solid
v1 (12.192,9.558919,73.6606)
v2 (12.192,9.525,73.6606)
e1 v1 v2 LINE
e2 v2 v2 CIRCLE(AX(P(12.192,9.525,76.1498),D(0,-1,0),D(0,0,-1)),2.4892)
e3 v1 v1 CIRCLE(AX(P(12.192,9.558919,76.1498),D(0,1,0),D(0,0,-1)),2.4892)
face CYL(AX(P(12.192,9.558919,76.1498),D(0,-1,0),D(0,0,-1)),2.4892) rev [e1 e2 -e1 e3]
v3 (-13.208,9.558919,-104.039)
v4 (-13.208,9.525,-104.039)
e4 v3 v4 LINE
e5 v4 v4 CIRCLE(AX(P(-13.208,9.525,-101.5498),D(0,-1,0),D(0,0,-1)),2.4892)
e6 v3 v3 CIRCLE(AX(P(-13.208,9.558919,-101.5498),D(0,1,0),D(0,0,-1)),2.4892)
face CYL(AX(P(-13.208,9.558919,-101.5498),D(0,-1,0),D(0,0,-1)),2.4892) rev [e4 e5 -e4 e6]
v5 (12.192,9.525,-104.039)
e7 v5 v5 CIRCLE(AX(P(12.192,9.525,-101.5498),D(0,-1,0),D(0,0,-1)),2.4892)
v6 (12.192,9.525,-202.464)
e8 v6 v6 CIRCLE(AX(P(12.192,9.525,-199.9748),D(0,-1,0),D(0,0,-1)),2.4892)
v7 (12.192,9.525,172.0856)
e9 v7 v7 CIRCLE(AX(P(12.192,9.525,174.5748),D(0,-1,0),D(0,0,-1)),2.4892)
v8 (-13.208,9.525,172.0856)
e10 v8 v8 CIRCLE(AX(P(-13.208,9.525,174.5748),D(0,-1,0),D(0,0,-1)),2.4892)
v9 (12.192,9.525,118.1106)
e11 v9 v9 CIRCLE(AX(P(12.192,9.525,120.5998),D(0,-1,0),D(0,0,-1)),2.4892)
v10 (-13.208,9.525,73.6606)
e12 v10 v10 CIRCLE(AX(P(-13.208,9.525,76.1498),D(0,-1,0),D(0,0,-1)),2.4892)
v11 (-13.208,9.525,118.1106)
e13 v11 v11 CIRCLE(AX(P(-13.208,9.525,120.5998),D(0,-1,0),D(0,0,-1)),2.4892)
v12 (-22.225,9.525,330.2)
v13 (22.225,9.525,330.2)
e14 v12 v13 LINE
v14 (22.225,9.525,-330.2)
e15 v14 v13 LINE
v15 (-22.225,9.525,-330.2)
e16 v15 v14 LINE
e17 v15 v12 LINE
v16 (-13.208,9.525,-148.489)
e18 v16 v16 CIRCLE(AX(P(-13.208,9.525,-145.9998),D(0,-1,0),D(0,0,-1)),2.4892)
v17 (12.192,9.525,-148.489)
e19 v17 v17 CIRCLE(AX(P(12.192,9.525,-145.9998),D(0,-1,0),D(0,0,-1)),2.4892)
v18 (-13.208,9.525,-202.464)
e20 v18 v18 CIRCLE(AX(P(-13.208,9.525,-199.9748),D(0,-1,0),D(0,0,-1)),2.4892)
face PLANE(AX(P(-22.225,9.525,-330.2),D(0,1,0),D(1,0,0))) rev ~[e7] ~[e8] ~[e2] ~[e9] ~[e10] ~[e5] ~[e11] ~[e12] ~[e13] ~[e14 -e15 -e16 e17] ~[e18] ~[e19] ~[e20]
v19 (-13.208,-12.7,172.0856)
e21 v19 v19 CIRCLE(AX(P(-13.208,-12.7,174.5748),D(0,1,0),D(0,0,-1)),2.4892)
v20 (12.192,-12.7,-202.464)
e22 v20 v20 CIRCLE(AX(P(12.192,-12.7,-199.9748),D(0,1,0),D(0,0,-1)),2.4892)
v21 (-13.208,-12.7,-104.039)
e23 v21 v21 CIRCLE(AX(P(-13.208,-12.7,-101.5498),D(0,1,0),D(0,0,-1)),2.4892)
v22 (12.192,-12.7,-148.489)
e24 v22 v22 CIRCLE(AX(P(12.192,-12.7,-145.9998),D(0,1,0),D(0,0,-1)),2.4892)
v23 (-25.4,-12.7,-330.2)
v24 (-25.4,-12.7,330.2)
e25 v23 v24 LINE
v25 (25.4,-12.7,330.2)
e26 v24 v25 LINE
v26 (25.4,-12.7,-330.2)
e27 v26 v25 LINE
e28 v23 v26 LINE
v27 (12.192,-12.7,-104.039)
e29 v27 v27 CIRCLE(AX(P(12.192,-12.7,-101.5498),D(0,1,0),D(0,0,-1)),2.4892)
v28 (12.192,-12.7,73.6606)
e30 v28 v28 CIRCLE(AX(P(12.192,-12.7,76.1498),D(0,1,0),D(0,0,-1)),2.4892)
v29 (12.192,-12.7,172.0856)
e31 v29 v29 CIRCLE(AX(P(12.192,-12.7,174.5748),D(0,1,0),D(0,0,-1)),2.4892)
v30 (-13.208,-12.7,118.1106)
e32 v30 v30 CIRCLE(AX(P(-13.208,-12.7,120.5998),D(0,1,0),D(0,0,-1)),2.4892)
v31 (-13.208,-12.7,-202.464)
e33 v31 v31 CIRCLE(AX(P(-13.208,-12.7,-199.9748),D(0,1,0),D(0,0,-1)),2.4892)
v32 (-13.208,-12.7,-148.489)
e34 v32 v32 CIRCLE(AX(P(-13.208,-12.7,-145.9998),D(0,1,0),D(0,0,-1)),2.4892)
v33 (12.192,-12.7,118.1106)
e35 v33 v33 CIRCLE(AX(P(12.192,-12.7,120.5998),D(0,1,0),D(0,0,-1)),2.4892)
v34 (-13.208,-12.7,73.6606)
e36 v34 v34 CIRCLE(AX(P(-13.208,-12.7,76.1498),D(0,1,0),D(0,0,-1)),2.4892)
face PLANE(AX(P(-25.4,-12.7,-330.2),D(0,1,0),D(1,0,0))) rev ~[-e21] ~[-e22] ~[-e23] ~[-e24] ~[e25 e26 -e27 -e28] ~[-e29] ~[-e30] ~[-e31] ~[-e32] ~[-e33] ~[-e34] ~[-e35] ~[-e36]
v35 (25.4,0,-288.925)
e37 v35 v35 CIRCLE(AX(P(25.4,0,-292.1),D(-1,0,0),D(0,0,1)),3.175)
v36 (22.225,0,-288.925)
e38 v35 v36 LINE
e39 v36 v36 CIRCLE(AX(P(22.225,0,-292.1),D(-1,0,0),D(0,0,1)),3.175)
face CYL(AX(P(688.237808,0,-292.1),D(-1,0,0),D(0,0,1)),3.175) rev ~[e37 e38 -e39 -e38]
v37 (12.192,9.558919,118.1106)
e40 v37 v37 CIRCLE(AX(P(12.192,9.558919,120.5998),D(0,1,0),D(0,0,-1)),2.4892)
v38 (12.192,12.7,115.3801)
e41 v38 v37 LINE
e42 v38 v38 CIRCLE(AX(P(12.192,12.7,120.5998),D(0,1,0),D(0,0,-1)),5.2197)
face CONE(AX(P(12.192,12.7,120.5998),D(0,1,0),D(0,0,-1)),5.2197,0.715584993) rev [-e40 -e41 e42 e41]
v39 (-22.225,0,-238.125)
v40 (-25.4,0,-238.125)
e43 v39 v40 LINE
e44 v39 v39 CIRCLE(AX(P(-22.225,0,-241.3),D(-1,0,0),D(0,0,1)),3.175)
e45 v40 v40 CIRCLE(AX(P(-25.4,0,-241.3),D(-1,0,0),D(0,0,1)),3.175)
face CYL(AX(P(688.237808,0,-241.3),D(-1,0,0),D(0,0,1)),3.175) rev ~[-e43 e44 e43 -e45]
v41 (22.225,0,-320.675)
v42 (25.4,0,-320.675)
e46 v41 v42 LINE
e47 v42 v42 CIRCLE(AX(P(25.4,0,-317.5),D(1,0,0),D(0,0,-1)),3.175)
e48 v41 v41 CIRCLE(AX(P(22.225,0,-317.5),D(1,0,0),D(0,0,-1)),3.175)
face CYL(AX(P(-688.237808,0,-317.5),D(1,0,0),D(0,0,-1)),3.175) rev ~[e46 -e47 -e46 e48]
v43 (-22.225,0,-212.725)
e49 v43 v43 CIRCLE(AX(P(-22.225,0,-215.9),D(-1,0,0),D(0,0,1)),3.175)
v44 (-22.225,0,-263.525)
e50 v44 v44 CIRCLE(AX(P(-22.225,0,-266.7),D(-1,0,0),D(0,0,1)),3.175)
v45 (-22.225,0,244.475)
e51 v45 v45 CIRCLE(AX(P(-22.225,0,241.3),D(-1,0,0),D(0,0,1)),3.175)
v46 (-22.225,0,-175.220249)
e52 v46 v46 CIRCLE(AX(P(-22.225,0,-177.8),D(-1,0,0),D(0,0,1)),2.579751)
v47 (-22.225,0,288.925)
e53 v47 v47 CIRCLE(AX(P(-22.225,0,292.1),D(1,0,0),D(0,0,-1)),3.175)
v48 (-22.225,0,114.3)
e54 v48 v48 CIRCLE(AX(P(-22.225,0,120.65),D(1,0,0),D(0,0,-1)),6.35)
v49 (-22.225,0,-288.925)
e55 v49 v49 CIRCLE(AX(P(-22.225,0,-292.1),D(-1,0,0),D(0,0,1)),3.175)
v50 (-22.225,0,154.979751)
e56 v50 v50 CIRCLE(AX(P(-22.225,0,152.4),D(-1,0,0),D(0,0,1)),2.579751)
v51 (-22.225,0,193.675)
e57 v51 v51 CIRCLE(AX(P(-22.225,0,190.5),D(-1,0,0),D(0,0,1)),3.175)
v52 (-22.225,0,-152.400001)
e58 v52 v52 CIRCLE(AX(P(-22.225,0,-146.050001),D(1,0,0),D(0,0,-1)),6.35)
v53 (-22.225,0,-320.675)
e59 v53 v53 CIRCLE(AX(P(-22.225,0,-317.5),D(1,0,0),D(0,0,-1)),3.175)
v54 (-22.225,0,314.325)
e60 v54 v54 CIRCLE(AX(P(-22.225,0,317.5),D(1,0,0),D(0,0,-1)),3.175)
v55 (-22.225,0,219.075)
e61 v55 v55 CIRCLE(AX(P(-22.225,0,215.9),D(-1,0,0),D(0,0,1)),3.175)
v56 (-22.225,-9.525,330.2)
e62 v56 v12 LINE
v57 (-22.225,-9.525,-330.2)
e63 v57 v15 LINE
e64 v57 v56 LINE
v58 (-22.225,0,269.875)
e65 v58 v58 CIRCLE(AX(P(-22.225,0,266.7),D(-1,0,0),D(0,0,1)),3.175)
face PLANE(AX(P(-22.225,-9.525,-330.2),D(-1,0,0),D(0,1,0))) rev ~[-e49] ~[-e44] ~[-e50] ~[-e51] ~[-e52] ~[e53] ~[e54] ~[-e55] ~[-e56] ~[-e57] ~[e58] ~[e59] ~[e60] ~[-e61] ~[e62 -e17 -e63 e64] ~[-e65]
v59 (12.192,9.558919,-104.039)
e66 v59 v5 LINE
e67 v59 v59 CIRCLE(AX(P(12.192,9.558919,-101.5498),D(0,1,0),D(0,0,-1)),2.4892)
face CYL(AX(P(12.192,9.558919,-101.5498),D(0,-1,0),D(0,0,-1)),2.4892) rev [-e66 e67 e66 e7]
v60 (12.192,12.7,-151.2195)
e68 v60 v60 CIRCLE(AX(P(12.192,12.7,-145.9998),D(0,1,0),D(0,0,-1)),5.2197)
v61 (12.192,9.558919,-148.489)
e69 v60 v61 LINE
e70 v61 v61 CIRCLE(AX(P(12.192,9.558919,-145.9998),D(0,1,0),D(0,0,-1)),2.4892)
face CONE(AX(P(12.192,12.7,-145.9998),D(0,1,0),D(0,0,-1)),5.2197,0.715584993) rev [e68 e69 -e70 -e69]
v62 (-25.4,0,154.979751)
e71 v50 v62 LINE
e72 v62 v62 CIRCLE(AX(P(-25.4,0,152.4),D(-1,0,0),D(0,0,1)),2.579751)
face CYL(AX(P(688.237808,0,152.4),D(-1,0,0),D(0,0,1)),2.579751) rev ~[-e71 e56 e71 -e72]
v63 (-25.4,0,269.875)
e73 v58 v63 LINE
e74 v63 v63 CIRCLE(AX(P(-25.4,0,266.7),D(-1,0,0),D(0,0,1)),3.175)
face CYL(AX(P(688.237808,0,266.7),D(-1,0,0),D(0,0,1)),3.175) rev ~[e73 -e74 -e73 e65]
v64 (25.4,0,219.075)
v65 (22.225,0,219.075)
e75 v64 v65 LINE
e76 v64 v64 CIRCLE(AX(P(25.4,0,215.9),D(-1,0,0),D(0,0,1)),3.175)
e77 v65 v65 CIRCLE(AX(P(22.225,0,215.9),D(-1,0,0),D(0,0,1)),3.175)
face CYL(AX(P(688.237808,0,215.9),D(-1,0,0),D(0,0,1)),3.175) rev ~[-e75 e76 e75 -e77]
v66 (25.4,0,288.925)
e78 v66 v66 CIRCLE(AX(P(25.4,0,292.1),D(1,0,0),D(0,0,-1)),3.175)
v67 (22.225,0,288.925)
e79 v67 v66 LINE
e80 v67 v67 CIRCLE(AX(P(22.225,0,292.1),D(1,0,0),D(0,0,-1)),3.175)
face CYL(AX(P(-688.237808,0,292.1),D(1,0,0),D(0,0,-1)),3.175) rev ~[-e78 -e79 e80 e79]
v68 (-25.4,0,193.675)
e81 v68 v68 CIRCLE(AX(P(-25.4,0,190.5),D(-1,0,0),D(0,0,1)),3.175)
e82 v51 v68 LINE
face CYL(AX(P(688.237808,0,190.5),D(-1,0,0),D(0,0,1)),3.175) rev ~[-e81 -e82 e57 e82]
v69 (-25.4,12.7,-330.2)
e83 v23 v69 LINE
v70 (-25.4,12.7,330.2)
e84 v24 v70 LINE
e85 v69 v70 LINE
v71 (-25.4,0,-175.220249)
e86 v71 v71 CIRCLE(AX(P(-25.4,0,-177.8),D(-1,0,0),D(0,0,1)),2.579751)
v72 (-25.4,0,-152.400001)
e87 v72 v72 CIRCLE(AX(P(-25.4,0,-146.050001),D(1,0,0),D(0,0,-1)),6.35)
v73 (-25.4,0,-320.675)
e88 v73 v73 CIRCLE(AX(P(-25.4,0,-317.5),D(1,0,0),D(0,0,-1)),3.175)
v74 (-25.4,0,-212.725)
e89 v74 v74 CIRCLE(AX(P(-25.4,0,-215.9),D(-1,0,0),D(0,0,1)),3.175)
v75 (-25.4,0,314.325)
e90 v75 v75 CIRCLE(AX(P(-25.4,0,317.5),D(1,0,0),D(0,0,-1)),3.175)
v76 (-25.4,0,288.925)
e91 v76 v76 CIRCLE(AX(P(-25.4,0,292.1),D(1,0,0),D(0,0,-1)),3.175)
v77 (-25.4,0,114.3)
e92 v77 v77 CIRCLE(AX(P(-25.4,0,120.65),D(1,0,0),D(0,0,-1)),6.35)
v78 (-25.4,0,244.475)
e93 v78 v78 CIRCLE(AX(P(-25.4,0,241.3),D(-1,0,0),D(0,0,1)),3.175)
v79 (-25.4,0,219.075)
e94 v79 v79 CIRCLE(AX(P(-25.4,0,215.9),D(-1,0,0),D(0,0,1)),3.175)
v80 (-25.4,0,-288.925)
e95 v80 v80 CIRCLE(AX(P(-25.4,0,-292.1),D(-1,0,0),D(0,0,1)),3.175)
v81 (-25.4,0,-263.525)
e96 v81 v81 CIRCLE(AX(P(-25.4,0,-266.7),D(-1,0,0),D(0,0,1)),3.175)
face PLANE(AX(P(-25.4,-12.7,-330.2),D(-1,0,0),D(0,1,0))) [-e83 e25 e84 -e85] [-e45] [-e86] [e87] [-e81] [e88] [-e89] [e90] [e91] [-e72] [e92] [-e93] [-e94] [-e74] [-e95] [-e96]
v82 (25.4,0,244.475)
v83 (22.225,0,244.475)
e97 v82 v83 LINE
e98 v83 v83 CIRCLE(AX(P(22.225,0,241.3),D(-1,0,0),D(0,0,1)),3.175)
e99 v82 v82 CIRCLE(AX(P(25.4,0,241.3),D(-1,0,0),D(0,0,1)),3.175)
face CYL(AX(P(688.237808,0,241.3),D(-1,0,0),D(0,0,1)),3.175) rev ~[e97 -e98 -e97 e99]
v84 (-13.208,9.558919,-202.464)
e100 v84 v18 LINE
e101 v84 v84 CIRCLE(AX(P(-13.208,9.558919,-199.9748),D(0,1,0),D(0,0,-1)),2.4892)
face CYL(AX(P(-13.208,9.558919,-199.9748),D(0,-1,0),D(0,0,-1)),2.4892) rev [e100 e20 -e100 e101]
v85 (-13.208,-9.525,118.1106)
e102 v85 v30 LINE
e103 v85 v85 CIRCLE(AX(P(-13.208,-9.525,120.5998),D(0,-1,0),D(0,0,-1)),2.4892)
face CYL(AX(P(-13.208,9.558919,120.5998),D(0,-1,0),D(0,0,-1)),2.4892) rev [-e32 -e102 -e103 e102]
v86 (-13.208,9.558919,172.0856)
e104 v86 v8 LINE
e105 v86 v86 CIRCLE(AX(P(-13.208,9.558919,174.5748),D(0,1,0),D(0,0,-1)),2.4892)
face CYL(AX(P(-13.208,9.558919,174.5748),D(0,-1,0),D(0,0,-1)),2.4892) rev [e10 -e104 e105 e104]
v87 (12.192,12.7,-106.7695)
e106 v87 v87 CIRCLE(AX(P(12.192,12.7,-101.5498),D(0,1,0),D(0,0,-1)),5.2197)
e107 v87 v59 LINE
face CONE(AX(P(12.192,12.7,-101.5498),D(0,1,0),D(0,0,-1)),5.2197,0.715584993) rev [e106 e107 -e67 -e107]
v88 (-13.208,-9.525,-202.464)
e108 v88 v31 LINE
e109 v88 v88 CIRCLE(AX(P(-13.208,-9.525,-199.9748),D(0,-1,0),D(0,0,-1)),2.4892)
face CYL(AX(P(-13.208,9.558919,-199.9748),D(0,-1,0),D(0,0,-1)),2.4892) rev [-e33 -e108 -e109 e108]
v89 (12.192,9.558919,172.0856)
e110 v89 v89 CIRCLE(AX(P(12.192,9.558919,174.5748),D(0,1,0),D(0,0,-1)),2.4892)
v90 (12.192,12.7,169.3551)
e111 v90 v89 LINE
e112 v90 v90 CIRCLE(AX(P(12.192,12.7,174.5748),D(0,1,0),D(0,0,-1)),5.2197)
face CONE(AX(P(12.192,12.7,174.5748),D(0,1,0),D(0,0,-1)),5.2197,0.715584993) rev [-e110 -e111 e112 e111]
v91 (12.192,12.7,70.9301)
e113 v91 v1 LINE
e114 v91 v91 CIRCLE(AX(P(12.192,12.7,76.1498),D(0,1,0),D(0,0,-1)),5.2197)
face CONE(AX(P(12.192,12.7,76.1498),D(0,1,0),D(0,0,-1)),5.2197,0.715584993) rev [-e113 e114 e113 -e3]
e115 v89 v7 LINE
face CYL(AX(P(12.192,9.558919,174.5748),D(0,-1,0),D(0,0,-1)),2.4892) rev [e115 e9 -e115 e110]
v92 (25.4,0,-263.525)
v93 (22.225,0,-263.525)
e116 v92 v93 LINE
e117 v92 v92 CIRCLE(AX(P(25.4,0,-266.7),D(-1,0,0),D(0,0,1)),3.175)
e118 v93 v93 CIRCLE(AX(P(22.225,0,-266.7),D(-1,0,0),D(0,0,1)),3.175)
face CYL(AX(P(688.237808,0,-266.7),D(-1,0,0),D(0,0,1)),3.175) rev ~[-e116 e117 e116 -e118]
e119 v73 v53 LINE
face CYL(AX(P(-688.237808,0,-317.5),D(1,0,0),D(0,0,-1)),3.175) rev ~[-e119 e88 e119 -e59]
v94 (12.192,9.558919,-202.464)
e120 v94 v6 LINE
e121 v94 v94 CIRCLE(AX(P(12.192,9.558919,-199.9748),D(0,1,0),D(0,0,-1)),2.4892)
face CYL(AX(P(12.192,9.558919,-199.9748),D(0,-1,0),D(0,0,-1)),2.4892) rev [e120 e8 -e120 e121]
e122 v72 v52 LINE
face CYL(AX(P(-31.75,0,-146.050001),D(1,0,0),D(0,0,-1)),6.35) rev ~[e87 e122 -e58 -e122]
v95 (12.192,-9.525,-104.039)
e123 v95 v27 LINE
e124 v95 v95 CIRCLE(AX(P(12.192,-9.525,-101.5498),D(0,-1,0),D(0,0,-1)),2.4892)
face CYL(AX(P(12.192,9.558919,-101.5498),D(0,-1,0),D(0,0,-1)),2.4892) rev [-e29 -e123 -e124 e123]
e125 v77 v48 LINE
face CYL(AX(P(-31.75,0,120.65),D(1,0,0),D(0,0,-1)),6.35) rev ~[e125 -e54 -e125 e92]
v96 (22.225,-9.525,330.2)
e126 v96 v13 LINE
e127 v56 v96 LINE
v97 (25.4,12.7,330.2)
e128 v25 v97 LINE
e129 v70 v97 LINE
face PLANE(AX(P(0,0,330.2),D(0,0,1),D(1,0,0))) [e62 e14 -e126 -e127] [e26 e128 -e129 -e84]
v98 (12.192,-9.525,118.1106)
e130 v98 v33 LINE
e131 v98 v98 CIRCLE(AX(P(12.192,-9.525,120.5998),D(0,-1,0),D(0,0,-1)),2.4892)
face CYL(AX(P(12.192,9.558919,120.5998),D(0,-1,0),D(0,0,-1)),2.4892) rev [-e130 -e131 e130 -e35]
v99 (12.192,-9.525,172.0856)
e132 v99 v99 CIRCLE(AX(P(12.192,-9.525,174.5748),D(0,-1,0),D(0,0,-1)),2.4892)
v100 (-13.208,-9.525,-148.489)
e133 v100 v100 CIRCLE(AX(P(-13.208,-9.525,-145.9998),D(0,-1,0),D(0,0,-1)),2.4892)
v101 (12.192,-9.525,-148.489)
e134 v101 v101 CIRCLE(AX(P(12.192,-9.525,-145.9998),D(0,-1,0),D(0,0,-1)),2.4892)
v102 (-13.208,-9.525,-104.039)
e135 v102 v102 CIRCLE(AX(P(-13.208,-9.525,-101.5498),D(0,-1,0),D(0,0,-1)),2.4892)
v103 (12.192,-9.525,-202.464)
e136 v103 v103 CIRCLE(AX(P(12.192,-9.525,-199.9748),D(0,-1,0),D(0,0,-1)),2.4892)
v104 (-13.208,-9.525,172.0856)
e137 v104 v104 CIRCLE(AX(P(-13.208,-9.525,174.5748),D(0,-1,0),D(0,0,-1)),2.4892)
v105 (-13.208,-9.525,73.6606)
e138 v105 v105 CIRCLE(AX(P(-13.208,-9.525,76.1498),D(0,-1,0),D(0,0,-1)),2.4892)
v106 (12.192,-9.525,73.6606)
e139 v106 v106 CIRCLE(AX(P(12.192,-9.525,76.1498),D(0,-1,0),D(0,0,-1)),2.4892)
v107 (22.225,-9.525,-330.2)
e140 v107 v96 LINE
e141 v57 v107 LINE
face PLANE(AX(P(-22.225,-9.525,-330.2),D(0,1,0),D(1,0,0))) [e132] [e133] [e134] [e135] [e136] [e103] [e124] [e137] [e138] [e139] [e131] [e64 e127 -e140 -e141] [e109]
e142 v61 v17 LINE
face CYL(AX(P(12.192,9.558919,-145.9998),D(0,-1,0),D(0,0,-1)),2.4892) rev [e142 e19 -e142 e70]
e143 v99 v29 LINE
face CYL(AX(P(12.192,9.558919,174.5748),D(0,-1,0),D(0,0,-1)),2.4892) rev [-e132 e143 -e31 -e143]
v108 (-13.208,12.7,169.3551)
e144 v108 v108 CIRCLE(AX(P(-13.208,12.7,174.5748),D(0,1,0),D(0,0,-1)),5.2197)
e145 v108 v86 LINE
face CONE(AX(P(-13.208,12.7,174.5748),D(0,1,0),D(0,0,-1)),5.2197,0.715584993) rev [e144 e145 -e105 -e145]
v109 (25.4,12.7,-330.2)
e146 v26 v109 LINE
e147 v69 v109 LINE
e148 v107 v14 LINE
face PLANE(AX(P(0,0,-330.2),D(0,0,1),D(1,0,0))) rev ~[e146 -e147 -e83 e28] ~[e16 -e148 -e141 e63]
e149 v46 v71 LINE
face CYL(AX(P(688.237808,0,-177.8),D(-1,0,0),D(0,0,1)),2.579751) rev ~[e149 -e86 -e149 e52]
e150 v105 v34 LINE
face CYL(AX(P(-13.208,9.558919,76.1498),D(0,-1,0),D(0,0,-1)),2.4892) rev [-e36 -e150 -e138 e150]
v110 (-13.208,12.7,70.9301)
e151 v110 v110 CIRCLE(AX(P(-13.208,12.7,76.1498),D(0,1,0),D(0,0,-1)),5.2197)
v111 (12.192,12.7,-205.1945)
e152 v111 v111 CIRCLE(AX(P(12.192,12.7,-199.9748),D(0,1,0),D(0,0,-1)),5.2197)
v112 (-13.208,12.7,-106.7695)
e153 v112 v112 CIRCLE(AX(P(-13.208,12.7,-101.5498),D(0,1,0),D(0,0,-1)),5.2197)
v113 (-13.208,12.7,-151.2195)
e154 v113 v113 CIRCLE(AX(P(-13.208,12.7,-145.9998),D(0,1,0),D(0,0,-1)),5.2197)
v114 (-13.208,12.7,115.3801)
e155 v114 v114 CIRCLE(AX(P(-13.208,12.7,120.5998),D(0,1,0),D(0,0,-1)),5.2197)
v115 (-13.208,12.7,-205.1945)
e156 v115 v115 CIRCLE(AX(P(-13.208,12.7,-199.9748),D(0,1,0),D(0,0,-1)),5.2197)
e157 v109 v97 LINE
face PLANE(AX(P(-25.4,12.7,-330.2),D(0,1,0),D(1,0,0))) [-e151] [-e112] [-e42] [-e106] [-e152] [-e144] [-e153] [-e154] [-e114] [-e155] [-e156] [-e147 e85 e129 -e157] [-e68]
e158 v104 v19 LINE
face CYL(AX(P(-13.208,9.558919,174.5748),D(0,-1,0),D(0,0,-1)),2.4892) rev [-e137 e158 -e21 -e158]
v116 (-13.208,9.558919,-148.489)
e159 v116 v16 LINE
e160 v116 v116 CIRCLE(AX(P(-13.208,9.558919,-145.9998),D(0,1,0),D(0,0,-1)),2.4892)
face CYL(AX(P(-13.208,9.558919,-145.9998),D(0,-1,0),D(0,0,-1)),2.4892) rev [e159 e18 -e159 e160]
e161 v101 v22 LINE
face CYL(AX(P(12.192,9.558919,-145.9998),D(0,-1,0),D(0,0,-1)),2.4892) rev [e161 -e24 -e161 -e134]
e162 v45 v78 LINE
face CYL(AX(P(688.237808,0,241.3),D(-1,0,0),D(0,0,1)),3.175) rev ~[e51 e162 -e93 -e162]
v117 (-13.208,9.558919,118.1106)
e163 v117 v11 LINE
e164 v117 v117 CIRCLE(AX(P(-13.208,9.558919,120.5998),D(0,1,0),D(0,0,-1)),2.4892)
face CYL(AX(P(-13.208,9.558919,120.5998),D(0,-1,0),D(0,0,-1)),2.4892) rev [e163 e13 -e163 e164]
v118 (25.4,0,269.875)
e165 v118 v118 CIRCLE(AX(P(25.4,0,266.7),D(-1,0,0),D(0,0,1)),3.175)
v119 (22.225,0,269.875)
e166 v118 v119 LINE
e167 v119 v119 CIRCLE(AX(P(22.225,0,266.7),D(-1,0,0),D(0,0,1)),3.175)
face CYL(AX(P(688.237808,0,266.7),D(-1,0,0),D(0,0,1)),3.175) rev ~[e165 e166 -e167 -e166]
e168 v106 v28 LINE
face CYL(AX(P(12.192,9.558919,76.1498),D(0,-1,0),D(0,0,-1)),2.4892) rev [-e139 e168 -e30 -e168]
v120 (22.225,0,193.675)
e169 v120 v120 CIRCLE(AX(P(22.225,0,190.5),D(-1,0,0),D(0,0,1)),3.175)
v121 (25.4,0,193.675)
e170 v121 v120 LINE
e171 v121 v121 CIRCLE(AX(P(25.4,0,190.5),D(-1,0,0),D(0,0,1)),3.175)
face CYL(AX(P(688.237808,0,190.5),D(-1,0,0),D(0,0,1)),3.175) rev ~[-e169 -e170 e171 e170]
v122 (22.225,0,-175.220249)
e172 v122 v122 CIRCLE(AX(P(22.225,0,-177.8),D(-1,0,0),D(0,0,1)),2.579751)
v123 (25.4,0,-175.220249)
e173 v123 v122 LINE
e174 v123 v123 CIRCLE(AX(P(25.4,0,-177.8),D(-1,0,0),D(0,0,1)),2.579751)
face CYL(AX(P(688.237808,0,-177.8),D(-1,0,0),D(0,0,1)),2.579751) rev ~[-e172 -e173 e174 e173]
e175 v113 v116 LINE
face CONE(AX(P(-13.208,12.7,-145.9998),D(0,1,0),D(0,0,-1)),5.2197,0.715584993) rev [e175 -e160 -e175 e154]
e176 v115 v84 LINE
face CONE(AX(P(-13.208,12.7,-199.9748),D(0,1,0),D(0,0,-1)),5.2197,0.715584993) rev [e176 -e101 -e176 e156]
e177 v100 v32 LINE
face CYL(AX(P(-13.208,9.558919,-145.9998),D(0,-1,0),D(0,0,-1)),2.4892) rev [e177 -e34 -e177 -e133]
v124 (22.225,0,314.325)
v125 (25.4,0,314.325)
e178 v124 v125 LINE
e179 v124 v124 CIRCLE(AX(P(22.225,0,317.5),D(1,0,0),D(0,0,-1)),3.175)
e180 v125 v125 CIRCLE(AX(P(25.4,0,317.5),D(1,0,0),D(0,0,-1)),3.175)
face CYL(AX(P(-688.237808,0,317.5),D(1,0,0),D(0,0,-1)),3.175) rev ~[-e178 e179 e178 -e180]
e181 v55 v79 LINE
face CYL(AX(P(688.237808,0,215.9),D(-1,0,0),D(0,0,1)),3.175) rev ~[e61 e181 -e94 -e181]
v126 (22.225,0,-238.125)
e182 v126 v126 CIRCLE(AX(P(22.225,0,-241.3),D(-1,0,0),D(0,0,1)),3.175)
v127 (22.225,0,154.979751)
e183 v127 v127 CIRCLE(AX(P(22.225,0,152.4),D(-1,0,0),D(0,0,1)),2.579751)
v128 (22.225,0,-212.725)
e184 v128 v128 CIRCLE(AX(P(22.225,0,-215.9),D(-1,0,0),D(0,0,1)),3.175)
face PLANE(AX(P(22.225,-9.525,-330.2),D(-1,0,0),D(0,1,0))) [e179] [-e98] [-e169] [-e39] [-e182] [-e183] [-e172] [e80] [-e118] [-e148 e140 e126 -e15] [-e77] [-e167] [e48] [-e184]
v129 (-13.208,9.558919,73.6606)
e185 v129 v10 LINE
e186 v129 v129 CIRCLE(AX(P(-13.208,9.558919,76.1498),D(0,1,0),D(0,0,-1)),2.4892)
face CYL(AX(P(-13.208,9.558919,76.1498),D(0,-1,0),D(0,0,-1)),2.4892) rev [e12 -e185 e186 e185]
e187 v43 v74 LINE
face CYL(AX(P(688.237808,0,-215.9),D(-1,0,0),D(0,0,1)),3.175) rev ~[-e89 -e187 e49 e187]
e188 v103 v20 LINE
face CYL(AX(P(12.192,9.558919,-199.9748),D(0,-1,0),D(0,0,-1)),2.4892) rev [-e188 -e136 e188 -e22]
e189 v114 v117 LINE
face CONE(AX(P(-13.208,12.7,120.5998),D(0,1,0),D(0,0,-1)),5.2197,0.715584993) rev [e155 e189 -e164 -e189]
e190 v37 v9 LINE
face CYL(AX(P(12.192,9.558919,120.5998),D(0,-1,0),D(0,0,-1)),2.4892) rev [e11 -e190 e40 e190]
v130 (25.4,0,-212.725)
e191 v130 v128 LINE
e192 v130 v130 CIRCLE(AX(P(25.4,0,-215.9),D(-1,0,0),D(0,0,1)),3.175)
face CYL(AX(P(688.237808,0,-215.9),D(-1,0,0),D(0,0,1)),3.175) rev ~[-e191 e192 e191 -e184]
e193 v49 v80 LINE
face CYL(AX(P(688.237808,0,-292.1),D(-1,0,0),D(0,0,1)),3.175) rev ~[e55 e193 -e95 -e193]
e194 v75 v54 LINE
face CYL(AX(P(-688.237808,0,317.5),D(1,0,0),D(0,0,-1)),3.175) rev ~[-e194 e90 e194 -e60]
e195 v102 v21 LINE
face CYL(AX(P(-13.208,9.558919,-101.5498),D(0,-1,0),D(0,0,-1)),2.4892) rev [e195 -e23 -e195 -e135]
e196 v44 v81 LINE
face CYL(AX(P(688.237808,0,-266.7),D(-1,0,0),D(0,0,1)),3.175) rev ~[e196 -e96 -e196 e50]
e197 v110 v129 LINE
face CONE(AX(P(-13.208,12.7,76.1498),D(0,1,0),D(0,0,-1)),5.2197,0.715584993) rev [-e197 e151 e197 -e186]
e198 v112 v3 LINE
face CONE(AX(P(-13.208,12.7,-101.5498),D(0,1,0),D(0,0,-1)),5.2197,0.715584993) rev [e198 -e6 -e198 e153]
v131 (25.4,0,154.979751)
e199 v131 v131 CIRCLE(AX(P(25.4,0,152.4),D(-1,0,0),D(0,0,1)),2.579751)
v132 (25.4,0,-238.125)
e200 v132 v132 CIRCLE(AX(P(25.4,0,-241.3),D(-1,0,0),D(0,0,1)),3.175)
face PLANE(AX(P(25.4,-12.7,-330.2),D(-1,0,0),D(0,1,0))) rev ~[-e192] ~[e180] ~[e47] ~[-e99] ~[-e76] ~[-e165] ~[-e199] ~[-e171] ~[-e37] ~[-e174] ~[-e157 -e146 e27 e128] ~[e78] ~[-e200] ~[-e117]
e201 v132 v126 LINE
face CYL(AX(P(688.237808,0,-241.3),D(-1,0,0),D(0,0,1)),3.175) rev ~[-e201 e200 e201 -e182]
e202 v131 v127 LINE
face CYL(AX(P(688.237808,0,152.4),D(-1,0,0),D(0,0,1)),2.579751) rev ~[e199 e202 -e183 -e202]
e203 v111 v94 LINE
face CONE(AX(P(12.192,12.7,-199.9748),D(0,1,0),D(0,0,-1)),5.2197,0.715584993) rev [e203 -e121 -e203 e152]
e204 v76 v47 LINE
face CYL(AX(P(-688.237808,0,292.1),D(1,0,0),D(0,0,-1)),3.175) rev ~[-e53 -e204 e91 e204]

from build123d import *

# Parameters (mm, degrees)
BOSS_EXTRUDE1_DEPTH              = 330.2
BOSS_EXTRUDE1_DEPTH_BACK         = 330.2
SKETCH3_W                        = 50.8
SKETCH3_H                        = 25.4
SKETCH3_W_2                      = 44.45
SKETCH3_H_2                      = 19.05
F_1_4_0_25_DIAMETER_HOLE3_D      = 6.35
F_1_4_0_25_DIAMETER_HOLE4_D      = 6.35
F_1_4_0_25_DIAMETER_HOLE5_D      = 6.35
F_1_4_0_25_DIAMETER_HOLE6_D      = 6.35
F_1_4_0_25_DIAMETER_HOLE7_D      = 6.35
F_1_4_0_25_DIAMETER_HOLE8_D      = 6.35
F_13_64_0_20313_DIAMETER_HOLE1_D = 5.159502
F_1_2_0_5_DIAMETER_HOLE1_D       = 12.7
F_1_2_0_5_DIAMETER_HOLE1_DEPTH   = 6.35
F_1_2_0_5_DIAMETER_HOLE1_TIP     = 3.815464931
F_10_CLEARANCE_HOLE1_AT_2_COUNT  = 2
F_10_CLEARANCE_HOLE1_AT_2_PITCH  = 25.4
F_10_CLEARANCE_HOLE1_AT_3_COUNT  = 2
F_10_CLEARANCE_HOLE1_AT_3_PITCH  = 51.195336702
F_10_CLEARANCE_HOLE1_AT_4_COUNT  = 2
F_10_CLEARANCE_HOLE1_AT_4_PITCH  = 44.45
F_10_CLEARANCE_HOLE1_AT_5_COUNT  = 2
F_10_CLEARANCE_HOLE1_AT_5_PITCH  = 223.596969524
F_10_CLEARANCE_HOLE1_AT_6_COUNT  = 2
F_10_CLEARANCE_HOLE1_AT_6_PITCH  = 222.1496
F_10_CLEARANCE_HOLE1_AT_7_COUNT  = 2
F_10_CLEARANCE_HOLE1_AT_7_PITCH  = 266.5996
F_10_CLEARANCE_HOLE1_AT_8_COUNT  = 2
F_10_CLEARANCE_HOLE1_AT_8_PITCH  = 267.806845917
F_10_CLEARANCE_HOLE1_AT_9_COUNT  = 2
F_10_CLEARANCE_HOLE1_AT_9_PITCH  = 59.652834174
F_10_CLEARANCE_HOLE1_AT_10_COUNT = 2
F_10_CLEARANCE_HOLE1_AT_10_PITCH = 53.975
F_10_CLEARANCE_HOLE1_AT_11_COUNT = 2
F_10_CLEARANCE_HOLE1_AT_11_PITCH = 321.579281306
F_10_CLEARANCE_HOLE1_AT_12_COUNT = 2
F_10_CLEARANCE_HOLE1_AT_12_PITCH = 320.5746


with BuildPart() as part:
    # Sketch3 → Boss-Extrude1 (new, two sides: drawn at the far end of the back side and taken through both)
    with BuildSketch(Plane.XY.offset(-BOSS_EXTRUDE1_DEPTH_BACK)):
        Rectangle(SKETCH3_W, SKETCH3_H)
        Rectangle(SKETCH3_W_2, SKETCH3_H_2, mode=Mode.SUBTRACT)
    extrude(amount=BOSS_EXTRUDE1_DEPTH + BOSS_EXTRUDE1_DEPTH_BACK)

    # 1/4 (0.25) Diameter Hole3 (through all)
    with Locations(Plane.ZY.offset(25.4)):
        with Locations((-317.5, 0)):
            Hole(F_1_4_0_25_DIAMETER_HOLE3_D / 2)

    # 1/4 (0.25) Diameter Hole4 (through all)
    with Locations(Plane.ZY.offset(25.4)):
        with Locations((292.1, 0), (317.5, 0)):
            Hole(F_1_4_0_25_DIAMETER_HOLE4_D / 2)

    # 1/4 (0.25) Diameter Hole5 (through all)
    with Locations(Plane(origin=(25.4, 0, 0), x_dir=(0, 0, -1), z_dir=(1, 0, 0))):
        with Locations((292.1, 0), (266.7, 0)):
            Hole(F_1_4_0_25_DIAMETER_HOLE5_D / 2)

    # 1/4 (0.25) Diameter Hole6 (through all)
    with Locations(Plane(origin=(25.4, 0, 0), x_dir=(0, 0, -1), z_dir=(1, 0, 0))):
        with Locations((215.9, 0), (241.3, 0)):
            Hole(F_1_4_0_25_DIAMETER_HOLE6_D / 2)

    # 1/4 (0.25) Diameter Hole7 (through all)
    with Locations(Plane(origin=(25.4, 0, 0), x_dir=(0, 0, -1), z_dir=(1, 0, 0))):
        with Locations((-190.5, 0), (-215.9, 0)):
            Hole(F_1_4_0_25_DIAMETER_HOLE7_D / 2)

    # 1/4 (0.25) Diameter Hole8 (through all)
    with Locations(Plane(origin=(25.4, 0, 0), x_dir=(0, 0, -1), z_dir=(1, 0, 0))):
        with Locations((-266.7, 0), (-241.3, 0)):
            Hole(F_1_4_0_25_DIAMETER_HOLE8_D / 2)

    # 13/64 (0.20313) Diameter Hole1 (through all)
    with Locations(Plane(origin=(25.4, 0, 0), x_dir=(0, 0, -1), z_dir=(1, 0, 0))):
        with Locations((-152.4, 0), (177.8, 0)):
            Hole(F_13_64_0_20313_DIAMETER_HOLE1_D / 2)

    # 1/2 (0.5) Diameter Hole1
    with Locations(Plane.ZY.offset(25.4)):
        with Locations((-146.050000508, 4.9e-08), (120.65, 1.7e-08)):
            Hole(F_1_2_0_5_DIAMETER_HOLE1_D / 2, depth=F_1_2_0_5_DIAMETER_HOLE1_DEPTH)
            with Locations((0, 0, -(F_1_2_0_5_DIAMETER_HOLE1_DEPTH + F_1_2_0_5_DIAMETER_HOLE1_TIP / 2))):  # 118° drill point
                Cone(0, F_1_2_0_5_DIAMETER_HOLE1_D / 2, F_1_2_0_5_DIAMETER_HOLE1_TIP, mode=Mode.SUBTRACT)

    # Sketch40 → #10 Clearance Hole1 (revolve, cut)
    with BuildSketch(Plane(origin=(-13.208, -12.7, -145.9998), x_dir=(0, 0, -1), z_dir=(1, 0, 0))):
        Polygon((0, 0), (0, 25.4), (5.2197, 25.4), (2.4892, 22.258919064), (2.4892, 0), align=None)
    f_10_clearance_hole1 = revolve(axis=Axis((-13.208, -19.05, -145.9998), (0, 1, 0)), mode=Mode.SUBTRACT)

    # #10 Clearance Hole1 at 2: #10 Clearance Hole1 ×2
    with Locations(*[(i * F_10_CLEARANCE_HOLE1_AT_2_PITCH, 0, 0) for i in range(1, F_10_CLEARANCE_HOLE1_AT_2_COUNT)]):
        add(f_10_clearance_hole1, mode=Mode.SUBTRACT)

    # #10 Clearance Hole1 at 3: #10 Clearance Hole1 ×2
    with Locations(*[Vector(0.4961389383568339, 0, 0.8682431421244592) * (i * F_10_CLEARANCE_HOLE1_AT_3_PITCH) for i in range(1, F_10_CLEARANCE_HOLE1_AT_3_COUNT)]):
        add(f_10_clearance_hole1, mode=Mode.SUBTRACT)

    # #10 Clearance Hole1 at 4: #10 Clearance Hole1 ×2
    with Locations(*[(0, 0, i * F_10_CLEARANCE_HOLE1_AT_4_PITCH) for i in range(1, F_10_CLEARANCE_HOLE1_AT_4_COUNT)]):
        add(f_10_clearance_hole1, mode=Mode.SUBTRACT)

    # #10 Clearance Hole1 at 5: #10 Clearance Hole1 ×2
    with Locations(*[Vector(0.11359724621542588, 0, 0.9935268821991039) * (i * F_10_CLEARANCE_HOLE1_AT_5_PITCH) for i in range(1, F_10_CLEARANCE_HOLE1_AT_5_COUNT)]):
        add(f_10_clearance_hole1, mode=Mode.SUBTRACT)

    # #10 Clearance Hole1 at 6: #10 Clearance Hole1 ×2
    with Locations(*[(0, 0, i * F_10_CLEARANCE_HOLE1_AT_6_PITCH) for i in range(1, F_10_CLEARANCE_HOLE1_AT_6_COUNT)]):
        add(f_10_clearance_hole1, mode=Mode.SUBTRACT)

    # #10 Clearance Hole1 at 7: #10 Clearance Hole1 ×2
    with Locations(*[(0, 0, i * F_10_CLEARANCE_HOLE1_AT_7_PITCH) for i in range(1, F_10_CLEARANCE_HOLE1_AT_7_COUNT)]):
        add(f_10_clearance_hole1, mode=Mode.SUBTRACT)

    # #10 Clearance Hole1 at 8: #10 Clearance Hole1 ×2
    with Locations(*[Vector(0.09484447611114118, 0, 0.9954921021038807) * (i * F_10_CLEARANCE_HOLE1_AT_8_PITCH) for i in range(1, F_10_CLEARANCE_HOLE1_AT_8_COUNT)]):
        add(f_10_clearance_hole1, mode=Mode.SUBTRACT)

    # #10 Clearance Hole1 at 9: #10 Clearance Hole1 ×2
    with Locations(*[Vector(0.4257970363298798, 0, -0.904818702200994) * (i * F_10_CLEARANCE_HOLE1_AT_9_PITCH) for i in range(1, F_10_CLEARANCE_HOLE1_AT_9_COUNT)]):
        add(f_10_clearance_hole1, mode=Mode.SUBTRACT)

    # #10 Clearance Hole1 at 10: #10 Clearance Hole1 ×2
    with Locations(*[(0, 0, -i * F_10_CLEARANCE_HOLE1_AT_10_PITCH) for i in range(1, F_10_CLEARANCE_HOLE1_AT_10_COUNT)]):
        add(f_10_clearance_hole1, mode=Mode.SUBTRACT)

    # #10 Clearance Hole1 at 11: #10 Clearance Hole1 ×2
    with Locations(*[Vector(0.07898518802847557, 0, 0.9968757896910259) * (i * F_10_CLEARANCE_HOLE1_AT_11_PITCH) for i in range(1, F_10_CLEARANCE_HOLE1_AT_11_COUNT)]):
        add(f_10_clearance_hole1, mode=Mode.SUBTRACT)

    # #10 Clearance Hole1 at 12: #10 Clearance Hole1 ×2
    with Locations(*[(0, 0, i * F_10_CLEARANCE_HOLE1_AT_12_PITCH) for i in range(1, F_10_CLEARANCE_HOLE1_AT_12_COUNT)]):
        add(f_10_clearance_hole1, mode=Mode.SUBTRACT)


solid = part.part
